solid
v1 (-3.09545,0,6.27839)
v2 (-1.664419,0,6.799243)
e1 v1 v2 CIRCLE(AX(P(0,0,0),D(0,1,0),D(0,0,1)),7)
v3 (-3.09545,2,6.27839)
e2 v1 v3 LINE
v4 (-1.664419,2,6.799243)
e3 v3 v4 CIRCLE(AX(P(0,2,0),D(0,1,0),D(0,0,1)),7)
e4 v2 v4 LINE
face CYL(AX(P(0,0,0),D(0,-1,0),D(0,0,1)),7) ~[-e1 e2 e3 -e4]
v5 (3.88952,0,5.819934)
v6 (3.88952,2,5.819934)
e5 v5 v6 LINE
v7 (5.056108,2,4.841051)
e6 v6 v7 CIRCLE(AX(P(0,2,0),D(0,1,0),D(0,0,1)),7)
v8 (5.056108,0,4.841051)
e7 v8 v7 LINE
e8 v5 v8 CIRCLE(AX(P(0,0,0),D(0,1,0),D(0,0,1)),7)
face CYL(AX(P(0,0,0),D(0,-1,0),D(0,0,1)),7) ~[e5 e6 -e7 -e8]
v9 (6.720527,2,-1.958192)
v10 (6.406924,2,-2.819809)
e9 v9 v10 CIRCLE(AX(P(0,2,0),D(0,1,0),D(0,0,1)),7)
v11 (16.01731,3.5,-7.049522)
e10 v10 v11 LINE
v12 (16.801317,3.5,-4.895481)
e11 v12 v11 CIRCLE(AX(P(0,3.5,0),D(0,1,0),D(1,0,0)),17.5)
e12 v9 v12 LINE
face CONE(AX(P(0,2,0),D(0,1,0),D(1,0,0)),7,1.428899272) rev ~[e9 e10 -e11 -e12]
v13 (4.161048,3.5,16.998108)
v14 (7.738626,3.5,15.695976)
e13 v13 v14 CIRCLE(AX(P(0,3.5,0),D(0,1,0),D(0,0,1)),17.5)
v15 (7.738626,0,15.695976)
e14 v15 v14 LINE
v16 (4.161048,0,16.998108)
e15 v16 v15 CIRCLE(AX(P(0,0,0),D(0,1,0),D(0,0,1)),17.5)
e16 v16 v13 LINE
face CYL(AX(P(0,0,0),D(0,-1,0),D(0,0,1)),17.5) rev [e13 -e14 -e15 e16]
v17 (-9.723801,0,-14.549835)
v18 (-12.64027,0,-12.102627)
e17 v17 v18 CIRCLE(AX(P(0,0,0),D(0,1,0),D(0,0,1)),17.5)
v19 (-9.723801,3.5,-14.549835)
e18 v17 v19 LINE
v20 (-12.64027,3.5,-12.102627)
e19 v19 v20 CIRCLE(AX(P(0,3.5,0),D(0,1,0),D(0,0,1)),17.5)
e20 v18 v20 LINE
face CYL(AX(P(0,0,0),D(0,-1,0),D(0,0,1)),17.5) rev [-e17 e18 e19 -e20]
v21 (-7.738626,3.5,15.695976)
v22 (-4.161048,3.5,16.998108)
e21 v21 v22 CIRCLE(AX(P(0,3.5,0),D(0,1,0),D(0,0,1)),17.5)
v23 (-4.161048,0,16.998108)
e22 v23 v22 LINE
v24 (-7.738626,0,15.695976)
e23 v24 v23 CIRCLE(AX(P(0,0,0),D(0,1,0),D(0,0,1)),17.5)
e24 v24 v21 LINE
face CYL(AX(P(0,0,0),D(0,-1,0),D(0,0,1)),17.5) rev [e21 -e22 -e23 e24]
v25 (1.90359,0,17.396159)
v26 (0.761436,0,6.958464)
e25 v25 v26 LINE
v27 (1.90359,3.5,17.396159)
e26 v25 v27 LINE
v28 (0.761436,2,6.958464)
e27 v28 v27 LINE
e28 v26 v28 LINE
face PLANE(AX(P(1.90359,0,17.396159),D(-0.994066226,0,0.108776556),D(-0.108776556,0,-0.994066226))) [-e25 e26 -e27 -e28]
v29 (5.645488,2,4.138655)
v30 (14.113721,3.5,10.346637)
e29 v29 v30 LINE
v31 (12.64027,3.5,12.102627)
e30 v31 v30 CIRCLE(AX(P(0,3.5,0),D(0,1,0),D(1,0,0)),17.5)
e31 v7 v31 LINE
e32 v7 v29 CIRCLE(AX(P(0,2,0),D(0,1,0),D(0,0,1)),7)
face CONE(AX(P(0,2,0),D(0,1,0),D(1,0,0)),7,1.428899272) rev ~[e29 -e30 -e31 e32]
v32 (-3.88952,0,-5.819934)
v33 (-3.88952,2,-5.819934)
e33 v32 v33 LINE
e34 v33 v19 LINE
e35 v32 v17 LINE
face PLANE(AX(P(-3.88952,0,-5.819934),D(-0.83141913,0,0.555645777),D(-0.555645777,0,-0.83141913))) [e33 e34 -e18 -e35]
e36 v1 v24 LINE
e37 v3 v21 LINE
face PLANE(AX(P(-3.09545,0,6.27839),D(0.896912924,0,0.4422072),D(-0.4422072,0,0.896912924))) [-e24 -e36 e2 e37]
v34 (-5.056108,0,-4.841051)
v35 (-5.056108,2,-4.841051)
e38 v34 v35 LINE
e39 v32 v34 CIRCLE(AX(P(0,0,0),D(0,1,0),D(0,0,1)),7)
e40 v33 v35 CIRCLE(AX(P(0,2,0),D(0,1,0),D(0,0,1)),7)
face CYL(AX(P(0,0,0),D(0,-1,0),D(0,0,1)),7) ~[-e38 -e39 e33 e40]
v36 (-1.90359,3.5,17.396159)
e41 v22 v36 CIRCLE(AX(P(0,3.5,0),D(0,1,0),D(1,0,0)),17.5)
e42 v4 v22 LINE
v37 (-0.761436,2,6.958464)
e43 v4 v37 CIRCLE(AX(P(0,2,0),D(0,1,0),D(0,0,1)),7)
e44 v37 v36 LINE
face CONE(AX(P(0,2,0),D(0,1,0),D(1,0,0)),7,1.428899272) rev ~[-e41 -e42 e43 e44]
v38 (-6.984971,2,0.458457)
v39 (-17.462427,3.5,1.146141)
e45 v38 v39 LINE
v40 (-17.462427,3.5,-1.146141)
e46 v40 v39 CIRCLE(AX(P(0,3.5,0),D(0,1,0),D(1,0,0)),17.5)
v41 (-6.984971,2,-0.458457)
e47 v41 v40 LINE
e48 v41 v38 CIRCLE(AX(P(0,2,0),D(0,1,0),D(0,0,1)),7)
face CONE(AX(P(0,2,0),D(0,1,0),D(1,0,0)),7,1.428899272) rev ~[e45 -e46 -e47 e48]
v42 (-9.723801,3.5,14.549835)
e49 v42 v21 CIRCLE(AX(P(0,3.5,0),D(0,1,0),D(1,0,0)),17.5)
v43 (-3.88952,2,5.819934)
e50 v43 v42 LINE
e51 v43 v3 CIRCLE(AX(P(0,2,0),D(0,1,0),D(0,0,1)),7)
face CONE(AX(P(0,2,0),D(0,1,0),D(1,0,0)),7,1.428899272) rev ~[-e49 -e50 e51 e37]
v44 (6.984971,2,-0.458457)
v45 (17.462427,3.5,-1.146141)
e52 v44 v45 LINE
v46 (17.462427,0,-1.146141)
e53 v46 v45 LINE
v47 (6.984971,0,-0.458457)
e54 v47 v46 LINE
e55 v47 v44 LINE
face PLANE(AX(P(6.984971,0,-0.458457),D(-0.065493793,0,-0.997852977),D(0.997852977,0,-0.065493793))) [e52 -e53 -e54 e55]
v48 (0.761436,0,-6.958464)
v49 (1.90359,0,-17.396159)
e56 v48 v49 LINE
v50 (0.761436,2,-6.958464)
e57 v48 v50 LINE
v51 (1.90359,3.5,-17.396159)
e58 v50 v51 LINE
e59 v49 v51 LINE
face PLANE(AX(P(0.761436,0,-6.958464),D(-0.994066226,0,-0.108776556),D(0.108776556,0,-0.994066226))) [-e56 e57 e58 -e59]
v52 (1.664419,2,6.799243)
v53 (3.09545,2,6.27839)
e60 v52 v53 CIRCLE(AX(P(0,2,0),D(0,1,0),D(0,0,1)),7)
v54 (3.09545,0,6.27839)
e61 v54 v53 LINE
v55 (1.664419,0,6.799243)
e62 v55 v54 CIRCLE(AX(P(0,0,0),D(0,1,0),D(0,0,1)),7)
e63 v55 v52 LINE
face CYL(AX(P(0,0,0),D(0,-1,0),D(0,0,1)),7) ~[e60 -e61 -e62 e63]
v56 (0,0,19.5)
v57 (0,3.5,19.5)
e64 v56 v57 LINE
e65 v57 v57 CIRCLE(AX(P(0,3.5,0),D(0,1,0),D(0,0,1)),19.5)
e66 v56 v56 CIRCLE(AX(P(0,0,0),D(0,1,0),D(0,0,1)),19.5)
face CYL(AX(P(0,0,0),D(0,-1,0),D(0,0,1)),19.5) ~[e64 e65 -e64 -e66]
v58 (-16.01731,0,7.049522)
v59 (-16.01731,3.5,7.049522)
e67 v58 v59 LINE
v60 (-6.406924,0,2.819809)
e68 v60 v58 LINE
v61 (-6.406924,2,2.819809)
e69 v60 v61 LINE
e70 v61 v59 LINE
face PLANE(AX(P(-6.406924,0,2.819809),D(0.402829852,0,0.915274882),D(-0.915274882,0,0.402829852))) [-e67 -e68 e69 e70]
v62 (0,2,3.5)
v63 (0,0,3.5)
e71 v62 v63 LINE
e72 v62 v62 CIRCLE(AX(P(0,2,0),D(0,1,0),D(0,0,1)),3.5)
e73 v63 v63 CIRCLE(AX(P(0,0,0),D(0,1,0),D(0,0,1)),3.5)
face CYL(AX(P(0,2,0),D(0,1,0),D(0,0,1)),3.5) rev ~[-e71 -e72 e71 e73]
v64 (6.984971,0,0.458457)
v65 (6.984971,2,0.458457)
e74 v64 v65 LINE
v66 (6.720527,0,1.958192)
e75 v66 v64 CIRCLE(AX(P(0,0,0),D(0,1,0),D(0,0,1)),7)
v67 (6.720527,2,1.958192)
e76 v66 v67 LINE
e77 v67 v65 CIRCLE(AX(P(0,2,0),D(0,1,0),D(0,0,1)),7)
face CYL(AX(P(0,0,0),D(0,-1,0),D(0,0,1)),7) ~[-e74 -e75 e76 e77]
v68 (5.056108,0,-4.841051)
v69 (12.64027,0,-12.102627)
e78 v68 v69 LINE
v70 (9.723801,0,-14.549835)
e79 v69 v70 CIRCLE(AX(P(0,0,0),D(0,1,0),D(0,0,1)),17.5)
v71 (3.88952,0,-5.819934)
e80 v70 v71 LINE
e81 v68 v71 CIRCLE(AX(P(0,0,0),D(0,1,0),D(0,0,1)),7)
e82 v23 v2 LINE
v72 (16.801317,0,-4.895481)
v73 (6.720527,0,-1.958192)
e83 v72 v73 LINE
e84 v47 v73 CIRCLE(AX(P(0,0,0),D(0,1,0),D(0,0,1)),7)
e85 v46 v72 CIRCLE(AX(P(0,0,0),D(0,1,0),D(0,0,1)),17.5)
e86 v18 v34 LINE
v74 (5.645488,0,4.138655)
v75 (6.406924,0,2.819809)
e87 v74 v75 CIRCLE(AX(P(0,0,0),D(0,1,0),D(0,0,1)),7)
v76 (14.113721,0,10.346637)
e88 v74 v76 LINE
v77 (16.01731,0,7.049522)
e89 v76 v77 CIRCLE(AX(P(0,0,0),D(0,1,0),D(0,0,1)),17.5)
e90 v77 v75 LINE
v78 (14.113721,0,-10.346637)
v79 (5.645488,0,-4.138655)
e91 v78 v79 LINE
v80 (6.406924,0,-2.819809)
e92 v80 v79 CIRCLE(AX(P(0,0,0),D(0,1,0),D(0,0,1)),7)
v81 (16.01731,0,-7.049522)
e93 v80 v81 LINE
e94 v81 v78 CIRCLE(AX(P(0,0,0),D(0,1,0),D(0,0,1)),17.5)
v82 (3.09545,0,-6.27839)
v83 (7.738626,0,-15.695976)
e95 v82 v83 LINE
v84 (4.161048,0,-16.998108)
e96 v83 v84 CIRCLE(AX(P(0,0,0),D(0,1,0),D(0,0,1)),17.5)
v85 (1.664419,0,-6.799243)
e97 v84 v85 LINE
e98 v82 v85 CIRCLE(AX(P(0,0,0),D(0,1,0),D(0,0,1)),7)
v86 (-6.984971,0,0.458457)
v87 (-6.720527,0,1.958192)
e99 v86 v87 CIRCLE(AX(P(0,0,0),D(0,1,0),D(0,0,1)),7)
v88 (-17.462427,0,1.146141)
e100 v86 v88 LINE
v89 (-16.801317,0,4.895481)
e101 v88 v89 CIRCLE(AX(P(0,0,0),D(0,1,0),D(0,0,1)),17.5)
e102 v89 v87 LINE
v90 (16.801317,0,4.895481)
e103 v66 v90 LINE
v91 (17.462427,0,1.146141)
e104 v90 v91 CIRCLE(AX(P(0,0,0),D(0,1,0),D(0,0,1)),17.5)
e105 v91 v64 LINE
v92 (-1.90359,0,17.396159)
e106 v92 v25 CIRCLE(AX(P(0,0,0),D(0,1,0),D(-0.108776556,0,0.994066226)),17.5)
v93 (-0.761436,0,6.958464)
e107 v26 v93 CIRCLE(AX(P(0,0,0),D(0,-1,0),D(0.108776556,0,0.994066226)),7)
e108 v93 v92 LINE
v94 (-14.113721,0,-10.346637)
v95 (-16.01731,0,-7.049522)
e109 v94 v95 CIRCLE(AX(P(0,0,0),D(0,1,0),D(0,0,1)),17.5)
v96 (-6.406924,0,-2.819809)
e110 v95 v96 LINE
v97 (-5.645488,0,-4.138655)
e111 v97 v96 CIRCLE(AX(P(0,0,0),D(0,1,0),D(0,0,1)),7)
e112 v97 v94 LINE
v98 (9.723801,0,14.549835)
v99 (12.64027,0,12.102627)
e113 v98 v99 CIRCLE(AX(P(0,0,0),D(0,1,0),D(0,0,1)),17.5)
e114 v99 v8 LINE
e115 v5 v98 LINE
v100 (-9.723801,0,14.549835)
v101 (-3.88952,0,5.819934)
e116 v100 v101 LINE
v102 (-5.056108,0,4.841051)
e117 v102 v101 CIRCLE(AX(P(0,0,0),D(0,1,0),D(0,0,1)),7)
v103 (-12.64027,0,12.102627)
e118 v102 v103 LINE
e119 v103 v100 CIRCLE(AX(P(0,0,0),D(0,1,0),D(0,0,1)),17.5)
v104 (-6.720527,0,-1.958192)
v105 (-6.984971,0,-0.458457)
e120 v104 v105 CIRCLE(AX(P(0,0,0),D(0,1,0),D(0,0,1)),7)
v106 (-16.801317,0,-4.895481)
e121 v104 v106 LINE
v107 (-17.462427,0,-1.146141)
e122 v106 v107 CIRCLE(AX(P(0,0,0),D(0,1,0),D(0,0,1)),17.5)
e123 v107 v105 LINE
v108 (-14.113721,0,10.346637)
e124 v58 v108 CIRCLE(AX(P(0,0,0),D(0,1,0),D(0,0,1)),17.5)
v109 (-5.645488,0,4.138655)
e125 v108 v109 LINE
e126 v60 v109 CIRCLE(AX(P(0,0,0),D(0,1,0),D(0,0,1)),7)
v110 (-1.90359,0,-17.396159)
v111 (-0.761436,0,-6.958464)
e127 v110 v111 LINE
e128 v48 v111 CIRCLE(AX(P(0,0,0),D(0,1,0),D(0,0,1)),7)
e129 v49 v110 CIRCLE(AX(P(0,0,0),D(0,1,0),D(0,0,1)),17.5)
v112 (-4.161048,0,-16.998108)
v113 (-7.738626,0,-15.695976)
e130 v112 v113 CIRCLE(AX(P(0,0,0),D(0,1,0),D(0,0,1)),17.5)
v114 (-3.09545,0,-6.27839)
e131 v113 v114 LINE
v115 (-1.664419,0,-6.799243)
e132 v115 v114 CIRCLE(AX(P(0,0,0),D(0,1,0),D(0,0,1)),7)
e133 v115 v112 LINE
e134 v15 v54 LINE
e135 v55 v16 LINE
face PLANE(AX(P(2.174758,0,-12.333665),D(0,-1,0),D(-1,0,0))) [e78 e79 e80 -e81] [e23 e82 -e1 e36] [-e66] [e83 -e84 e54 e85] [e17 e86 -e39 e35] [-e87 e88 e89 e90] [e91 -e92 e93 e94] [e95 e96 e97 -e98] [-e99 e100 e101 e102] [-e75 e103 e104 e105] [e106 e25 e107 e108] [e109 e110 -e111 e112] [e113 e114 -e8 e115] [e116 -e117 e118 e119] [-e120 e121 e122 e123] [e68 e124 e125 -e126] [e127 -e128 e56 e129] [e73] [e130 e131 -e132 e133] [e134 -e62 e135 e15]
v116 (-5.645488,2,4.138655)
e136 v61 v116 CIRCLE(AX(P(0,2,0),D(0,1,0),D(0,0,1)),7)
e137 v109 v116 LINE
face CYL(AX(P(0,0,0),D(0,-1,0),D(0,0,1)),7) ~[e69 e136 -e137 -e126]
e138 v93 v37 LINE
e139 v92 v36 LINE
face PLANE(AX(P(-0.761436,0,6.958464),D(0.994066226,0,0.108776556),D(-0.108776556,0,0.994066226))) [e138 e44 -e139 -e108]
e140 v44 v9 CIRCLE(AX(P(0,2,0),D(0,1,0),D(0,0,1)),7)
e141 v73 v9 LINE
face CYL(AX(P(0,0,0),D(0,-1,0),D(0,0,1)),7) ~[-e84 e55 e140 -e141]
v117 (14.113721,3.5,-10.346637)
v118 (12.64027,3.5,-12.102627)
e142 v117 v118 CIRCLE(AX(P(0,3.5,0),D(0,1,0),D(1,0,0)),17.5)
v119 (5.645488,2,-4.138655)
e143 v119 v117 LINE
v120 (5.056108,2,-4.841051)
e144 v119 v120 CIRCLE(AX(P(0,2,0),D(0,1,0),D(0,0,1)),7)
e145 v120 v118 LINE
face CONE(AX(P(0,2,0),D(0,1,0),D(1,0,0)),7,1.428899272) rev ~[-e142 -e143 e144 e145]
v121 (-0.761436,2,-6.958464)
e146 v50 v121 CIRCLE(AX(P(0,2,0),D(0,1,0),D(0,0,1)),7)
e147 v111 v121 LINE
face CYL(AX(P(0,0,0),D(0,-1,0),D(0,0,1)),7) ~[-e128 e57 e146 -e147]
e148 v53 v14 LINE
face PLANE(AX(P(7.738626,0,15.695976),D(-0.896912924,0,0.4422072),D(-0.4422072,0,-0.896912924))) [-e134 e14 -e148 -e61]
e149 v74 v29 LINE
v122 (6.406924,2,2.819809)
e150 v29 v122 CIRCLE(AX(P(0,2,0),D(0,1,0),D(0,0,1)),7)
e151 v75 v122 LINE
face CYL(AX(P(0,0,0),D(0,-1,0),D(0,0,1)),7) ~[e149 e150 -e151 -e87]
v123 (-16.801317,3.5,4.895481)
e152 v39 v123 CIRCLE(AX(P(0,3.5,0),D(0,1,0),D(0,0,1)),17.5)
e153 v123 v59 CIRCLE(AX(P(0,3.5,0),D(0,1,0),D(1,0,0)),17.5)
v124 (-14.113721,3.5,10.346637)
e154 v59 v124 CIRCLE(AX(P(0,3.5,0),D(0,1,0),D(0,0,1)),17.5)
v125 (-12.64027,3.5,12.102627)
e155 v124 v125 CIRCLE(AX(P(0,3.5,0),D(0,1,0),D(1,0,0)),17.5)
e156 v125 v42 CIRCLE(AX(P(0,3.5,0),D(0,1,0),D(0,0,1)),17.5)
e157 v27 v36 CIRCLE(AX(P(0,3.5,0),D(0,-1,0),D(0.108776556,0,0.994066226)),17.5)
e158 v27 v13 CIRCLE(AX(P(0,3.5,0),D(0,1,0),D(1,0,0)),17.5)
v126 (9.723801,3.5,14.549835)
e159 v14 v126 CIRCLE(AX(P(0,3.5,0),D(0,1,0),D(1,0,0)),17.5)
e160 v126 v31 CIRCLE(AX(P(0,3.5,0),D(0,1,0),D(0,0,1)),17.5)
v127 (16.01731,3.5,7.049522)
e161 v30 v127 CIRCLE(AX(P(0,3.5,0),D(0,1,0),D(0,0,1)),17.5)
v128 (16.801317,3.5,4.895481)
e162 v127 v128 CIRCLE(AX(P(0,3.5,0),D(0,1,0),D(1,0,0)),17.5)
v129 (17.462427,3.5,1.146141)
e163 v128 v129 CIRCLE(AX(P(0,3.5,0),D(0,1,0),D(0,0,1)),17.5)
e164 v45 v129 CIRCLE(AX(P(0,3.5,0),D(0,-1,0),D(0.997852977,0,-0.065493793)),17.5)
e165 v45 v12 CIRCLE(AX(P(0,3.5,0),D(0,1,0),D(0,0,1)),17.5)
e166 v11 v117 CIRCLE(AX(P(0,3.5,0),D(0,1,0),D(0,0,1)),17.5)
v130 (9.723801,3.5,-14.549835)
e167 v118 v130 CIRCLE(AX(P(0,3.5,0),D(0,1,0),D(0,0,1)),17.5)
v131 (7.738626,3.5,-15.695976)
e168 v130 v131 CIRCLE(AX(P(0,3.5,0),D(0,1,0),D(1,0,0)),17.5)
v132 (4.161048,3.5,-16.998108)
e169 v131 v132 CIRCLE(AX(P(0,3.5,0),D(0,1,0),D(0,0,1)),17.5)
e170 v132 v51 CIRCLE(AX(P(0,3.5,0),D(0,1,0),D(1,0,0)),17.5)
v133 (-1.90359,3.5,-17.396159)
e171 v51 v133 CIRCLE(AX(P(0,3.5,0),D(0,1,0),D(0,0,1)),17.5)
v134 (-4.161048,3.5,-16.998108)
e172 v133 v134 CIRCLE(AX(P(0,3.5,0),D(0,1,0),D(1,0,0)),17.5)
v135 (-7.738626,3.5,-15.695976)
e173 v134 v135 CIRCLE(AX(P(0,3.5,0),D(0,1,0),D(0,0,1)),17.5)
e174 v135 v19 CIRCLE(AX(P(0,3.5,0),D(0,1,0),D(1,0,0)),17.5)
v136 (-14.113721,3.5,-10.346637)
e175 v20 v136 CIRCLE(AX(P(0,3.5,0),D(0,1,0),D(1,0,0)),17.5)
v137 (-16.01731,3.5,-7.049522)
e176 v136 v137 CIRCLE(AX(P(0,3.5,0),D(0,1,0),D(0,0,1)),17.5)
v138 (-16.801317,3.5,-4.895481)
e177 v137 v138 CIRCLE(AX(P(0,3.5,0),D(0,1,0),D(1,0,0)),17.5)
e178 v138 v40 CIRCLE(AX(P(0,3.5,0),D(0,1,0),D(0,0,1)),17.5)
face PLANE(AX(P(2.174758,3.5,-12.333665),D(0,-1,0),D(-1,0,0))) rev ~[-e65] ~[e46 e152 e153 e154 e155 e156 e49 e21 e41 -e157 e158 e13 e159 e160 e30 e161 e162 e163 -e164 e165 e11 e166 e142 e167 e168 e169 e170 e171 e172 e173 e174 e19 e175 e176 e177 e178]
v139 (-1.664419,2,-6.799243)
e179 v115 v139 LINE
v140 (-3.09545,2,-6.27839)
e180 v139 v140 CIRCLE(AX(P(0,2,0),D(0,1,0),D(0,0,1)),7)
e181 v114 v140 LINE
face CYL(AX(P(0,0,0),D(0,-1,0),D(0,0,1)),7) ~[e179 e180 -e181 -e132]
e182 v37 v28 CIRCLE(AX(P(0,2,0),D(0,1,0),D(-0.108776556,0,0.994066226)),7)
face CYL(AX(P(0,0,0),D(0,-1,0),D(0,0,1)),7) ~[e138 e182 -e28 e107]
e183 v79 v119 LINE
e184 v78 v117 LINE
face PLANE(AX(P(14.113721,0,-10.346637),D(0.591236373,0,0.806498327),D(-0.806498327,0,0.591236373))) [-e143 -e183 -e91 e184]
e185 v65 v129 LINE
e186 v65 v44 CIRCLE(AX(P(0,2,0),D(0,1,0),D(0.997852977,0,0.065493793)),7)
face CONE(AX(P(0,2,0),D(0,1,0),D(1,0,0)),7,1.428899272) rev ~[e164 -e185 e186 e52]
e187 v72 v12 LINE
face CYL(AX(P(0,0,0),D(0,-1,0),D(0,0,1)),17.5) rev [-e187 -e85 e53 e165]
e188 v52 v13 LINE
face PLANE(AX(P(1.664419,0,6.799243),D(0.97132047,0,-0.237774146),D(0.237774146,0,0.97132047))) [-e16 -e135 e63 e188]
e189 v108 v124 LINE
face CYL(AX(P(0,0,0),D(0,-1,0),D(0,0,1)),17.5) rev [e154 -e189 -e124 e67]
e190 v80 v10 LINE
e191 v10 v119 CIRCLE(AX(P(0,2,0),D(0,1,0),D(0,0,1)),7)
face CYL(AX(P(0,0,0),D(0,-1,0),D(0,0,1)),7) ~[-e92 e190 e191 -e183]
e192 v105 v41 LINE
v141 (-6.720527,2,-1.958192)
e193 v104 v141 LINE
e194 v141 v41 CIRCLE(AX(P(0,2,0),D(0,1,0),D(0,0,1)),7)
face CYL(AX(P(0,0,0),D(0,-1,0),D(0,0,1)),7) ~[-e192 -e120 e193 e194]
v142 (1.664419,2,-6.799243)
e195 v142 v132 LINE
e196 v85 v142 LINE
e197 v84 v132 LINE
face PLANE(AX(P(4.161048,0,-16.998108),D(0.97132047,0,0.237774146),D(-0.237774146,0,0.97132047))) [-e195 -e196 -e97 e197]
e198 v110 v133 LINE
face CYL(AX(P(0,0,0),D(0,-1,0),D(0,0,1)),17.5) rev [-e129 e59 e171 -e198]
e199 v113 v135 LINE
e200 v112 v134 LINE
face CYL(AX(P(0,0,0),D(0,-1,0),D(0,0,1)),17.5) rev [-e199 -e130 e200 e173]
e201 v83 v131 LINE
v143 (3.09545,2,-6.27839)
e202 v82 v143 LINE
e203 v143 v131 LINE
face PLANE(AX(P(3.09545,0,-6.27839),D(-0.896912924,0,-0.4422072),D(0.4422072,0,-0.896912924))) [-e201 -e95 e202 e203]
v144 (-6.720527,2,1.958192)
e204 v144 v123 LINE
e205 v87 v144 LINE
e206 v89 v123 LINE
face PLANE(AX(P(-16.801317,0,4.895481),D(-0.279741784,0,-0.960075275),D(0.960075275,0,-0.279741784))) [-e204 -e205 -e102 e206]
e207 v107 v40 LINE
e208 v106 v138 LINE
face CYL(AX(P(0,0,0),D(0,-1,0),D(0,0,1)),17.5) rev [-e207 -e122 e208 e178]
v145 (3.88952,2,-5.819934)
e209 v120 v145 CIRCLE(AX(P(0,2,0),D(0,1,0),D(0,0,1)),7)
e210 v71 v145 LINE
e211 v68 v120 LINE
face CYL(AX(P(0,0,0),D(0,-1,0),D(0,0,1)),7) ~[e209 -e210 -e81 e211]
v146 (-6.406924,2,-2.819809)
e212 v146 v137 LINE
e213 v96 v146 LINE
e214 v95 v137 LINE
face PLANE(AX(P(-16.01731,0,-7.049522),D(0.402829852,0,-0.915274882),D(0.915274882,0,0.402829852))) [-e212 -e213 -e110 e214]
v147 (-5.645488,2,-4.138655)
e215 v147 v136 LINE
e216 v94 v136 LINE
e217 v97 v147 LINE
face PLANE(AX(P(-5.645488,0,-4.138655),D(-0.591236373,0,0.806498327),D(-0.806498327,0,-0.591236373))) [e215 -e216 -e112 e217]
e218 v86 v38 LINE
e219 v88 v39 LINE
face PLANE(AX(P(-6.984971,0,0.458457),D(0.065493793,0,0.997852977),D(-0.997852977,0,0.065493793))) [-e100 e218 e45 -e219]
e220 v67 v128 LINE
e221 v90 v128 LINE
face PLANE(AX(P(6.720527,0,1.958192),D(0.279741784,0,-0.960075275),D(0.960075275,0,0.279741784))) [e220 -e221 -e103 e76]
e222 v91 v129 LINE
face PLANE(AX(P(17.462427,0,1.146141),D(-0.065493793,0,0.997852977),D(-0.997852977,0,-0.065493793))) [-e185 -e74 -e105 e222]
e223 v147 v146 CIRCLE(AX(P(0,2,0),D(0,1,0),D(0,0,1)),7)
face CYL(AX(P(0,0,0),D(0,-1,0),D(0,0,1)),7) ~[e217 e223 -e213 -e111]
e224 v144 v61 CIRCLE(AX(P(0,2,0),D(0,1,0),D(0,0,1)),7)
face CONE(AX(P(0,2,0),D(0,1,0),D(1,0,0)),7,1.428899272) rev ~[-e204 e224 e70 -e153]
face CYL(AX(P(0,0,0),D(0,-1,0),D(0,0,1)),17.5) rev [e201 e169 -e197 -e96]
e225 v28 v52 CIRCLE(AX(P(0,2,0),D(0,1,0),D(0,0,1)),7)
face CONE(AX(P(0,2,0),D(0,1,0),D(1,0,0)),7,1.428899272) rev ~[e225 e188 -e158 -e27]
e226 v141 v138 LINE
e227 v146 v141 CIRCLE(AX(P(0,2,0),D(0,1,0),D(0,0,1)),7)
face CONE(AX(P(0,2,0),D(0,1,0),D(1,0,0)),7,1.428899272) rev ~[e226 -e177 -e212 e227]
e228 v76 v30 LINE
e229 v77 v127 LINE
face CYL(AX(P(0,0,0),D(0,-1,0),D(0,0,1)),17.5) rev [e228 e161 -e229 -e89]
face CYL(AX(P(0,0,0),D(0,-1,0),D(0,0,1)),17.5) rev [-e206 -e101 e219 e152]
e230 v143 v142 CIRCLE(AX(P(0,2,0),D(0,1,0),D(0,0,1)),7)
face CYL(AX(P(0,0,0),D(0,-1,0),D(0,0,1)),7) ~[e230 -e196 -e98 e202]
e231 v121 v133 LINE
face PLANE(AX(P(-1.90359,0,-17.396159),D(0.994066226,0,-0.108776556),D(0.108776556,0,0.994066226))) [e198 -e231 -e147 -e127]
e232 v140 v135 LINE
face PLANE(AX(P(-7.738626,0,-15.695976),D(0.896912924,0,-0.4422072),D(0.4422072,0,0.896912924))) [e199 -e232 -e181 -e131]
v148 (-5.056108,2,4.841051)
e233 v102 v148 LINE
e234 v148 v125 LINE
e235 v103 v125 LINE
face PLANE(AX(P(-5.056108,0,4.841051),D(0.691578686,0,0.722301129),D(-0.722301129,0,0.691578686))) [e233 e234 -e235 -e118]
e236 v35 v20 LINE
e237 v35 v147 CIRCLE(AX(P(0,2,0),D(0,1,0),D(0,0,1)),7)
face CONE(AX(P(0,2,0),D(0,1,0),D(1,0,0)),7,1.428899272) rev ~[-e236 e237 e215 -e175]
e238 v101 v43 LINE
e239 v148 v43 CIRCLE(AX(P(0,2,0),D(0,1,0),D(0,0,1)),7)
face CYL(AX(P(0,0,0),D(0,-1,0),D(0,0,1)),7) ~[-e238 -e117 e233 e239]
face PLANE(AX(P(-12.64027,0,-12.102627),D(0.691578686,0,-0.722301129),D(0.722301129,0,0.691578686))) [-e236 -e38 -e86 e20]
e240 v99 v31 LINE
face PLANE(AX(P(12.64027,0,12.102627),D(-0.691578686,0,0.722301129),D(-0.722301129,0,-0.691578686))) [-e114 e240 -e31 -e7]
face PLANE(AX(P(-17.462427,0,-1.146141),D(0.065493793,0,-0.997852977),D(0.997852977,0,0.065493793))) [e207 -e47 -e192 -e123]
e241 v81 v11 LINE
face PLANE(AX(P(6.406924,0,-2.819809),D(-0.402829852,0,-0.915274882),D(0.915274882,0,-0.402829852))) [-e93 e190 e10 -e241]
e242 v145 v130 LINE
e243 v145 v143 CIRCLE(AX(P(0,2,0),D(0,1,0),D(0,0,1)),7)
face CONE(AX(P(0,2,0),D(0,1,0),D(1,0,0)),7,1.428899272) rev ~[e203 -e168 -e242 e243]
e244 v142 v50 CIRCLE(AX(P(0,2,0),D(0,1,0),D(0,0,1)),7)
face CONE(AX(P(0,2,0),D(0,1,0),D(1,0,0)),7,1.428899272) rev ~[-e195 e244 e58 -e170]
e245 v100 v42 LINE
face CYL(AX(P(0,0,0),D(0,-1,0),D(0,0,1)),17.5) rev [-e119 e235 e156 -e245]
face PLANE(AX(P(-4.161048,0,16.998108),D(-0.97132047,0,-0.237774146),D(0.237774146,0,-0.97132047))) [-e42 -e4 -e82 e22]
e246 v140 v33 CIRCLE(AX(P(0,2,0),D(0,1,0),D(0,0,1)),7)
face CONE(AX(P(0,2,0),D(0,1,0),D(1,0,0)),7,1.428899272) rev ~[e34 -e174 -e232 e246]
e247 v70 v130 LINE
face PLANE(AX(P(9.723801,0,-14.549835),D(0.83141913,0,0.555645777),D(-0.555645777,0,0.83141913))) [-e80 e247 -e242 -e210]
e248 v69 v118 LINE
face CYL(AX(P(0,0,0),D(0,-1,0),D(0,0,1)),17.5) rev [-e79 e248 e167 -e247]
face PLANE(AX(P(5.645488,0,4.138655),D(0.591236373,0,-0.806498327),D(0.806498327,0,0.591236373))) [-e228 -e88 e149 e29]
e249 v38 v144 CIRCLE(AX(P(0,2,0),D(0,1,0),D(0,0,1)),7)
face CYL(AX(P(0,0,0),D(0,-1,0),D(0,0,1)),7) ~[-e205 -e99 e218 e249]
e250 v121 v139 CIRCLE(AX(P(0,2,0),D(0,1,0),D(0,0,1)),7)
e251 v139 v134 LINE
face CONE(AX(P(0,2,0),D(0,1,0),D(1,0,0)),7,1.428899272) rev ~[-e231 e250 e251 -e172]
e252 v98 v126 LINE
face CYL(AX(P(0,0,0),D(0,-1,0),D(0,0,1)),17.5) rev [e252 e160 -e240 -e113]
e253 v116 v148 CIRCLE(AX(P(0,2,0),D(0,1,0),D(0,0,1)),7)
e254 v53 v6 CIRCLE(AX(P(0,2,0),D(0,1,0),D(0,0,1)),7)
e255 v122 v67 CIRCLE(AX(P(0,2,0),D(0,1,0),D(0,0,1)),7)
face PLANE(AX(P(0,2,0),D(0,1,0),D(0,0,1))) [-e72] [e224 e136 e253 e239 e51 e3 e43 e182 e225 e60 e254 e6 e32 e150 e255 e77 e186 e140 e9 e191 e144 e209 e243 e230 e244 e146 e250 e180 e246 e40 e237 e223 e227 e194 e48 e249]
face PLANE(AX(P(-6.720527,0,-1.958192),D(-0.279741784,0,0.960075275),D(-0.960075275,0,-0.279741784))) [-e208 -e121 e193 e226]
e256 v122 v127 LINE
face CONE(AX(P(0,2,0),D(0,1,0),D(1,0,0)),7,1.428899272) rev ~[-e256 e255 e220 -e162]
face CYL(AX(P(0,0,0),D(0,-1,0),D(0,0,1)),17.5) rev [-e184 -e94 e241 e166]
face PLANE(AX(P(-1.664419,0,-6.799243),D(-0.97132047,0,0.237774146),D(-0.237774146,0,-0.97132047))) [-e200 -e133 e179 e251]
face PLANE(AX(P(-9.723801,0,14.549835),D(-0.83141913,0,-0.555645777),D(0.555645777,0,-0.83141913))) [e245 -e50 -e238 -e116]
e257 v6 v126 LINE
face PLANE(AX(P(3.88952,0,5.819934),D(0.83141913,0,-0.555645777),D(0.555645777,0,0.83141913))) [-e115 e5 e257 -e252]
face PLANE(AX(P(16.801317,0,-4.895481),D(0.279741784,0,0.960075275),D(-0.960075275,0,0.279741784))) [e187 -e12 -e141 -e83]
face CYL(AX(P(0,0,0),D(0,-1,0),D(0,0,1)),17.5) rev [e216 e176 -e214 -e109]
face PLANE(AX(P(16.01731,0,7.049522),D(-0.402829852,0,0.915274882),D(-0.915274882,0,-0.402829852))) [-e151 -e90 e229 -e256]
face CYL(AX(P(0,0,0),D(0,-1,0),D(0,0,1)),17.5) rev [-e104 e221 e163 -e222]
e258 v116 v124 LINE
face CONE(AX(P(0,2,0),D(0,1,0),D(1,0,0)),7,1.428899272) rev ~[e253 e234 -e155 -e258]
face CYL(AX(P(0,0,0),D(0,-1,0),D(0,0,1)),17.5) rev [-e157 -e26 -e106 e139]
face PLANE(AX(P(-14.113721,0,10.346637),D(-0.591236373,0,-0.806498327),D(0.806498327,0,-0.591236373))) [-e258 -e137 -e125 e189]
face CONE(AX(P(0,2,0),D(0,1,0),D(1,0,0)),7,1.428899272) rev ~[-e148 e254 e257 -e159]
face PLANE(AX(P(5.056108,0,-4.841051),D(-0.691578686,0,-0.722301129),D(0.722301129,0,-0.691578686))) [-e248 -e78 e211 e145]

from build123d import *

# Parameters (mm, degrees)
SKETCH1_R           = 19.5
SKETCH1_R_2         = 17.5
BOSS_EXTRUDE1_DEPTH = 3.5
SKETCH2_R           = 7
BOSS_EXTRUDE2_DEPTH = 2
BOSS_EXTRUDE3_DEPTH = 3.5
SKETCH8_R           = 3.5
CUT_EXTRUDE1_DEPTH  = 28.649593125


with BuildPart() as part:
    # Sketch1 → Boss-Extrude1 (new body)
    with BuildSketch(Plane(origin=(0, 0, 0), x_dir=(1, 0, 0), z_dir=(0, 1, 0))):
        with Locations(Location((0, 0, 0), (0, 0, 270))):
            Circle(SKETCH1_R)
        with Locations(Location((0, 0, 0), (0, 0, 270))):
            Circle(SKETCH1_R_2, mode=Mode.SUBTRACT)
    extrude(amount=BOSS_EXTRUDE1_DEPTH)



with BuildPart() as body_2:
    # Sketch2 → Boss-Extrude2 (new body)
    with BuildSketch(Plane(origin=(0, 0, 0), x_dir=(1, 0, 0), z_dir=(0, 1, 0))):
        with Locations(Location((0, 0, 0), (0, 0, 270))):
            Circle(SKETCH2_R)
    extrude(amount=BOSS_EXTRUDE2_DEPTH)


with BuildPart() as part_1:
    add(part.part)

    add(body_2.part)  # Boss-Extrude3 merges body 2
    # Sketch4 → Boss-Extrude3 (add)
    with BuildSketch(Plane(origin=(0, 0, 0), x_dir=(1, 0, 0), z_dir=(0, 1, 0))):
        with BuildLine():
            Line((0.76143589, 6.958463579), (1.903589725, 17.396158948))
            ThreePointArc((1.903589725, 17.396158948), (3.038843109, 17.234135678), (4.161047559, 16.998108224))
            Line((4.161047559, 16.998108224), (1.664419024, 6.79924329))
            ThreePointArc((1.664419024, 6.79924329), (1.215537244, 6.893654271), (0.76143589, 6.958463579))
        make_face()
        with BuildLine():
            Line((3.095450398, 6.278390465), (7.738625995, 15.695976163))
            ThreePointArc((7.738625995, 15.695976163), (8.75, 15.155444566), (9.723801097, 14.549834783))
            Line((9.723801097, 14.549834783), (3.889520439, 5.819933913))
            ThreePointArc((3.889520439, 5.819933913), (3.5, 6.062177826), (3.095450398, 6.278390465))
        make_face()
        with BuildLine():
            Line((5.056107904, 4.841050802), (12.640269759, 12.102627005))
            ThreePointArc((12.640269759, 12.102627005), (13.405777755, 11.24878317), (14.113720715, 10.346636535))
            Line((14.113720715, 10.346636535), (5.645488286, 4.138654614))
            ThreePointArc((5.645488286, 4.138654614), (5.362311102, 4.499513268), (5.056107904, 4.841050802))
        make_face()
        with BuildLine():
            Line((6.406924176, 2.819808966), (16.01731044, 7.049522414))
            ThreePointArc((16.01731044, 7.049522414), (16.444620864, 5.985352508), (16.801317318, 4.89548122))
            Line((16.801317318, 4.89548122), (6.720526927, 1.958192488))
            ThreePointArc((6.720526927, 1.958192488), (6.577848346, 2.394141003), (6.406924176, 2.819808966))
        make_face()
        with BuildLine():
            Line((6.984970837, 0.458456552), (17.462427092, 1.14614138))
            ThreePointArc((17.462427092, 1.14614138), (17.5, 0), (17.462427092, -1.14614138))
            Line((17.462427092, -1.14614138), (6.984970837, -0.458456552))
            ThreePointArc((6.984970837, -0.458456552), (7, 0), (6.984970837, 0.458456552))
        make_face()
        with BuildLine():
            Line((6.720526927, -1.958192488), (16.801317318, -4.89548122))
            ThreePointArc((16.801317318, -4.89548122), (16.444620864, -5.985352508), (16.01731044, -7.049522414))
            Line((16.01731044, -7.049522414), (6.406924176, -2.819808966))
            ThreePointArc((6.406924176, -2.819808966), (6.577848346, -2.394141003), (6.720526927, -1.958192488))
        make_face()
        with BuildLine():
            Line((5.645488286, -4.138654614), (14.113720715, -10.346636535))
            ThreePointArc((14.113720715, -10.346636535), (13.405777755, -11.24878317), (12.640269759, -12.102627005))
            Line((12.640269759, -12.102627005), (5.056107904, -4.841050802))
            ThreePointArc((5.056107904, -4.841050802), (5.362311102, -4.499513268), (5.645488286, -4.138654614))
        make_face()
        with BuildLine():
            Line((3.889520439, -5.819933913), (9.723801097, -14.549834783))
            ThreePointArc((9.723801097, -14.549834783), (8.75, -15.155444566), (7.738625995, -15.695976163))
            Line((7.738625995, -15.695976163), (3.095450398, -6.278390465))
            ThreePointArc((3.095450398, -6.278390465), (3.5, -6.062177826), (3.889520439, -5.819933913))
        make_face()
        with BuildLine():
            Line((1.664419024, -6.79924329), (4.161047559, -16.998108224))
            ThreePointArc((4.161047559, -16.998108224), (3.038843109, -17.234135678), (1.903589725, -17.396158948))
            Line((1.903589725, -17.396158948), (0.76143589, -6.958463579))
            ThreePointArc((0.76143589, -6.958463579), (1.215537244, -6.893654271), (1.664419024, -6.79924329))
        make_face()
        with BuildLine():
            Line((-0.76143589, -6.958463579), (-1.903589725, -17.396158948))
            ThreePointArc((-1.903589725, -17.396158948), (-3.038843109, -17.234135678), (-4.161047559, -16.998108224))
            Line((-4.161047559, -16.998108224), (-1.664419024, -6.79924329))
            ThreePointArc((-1.664419024, -6.79924329), (-1.215537244, -6.893654271), (-0.76143589, -6.958463579))
        make_face()
        with BuildLine():
            Line((-3.095450398, -6.278390465), (-7.738625995, -15.695976163))
            ThreePointArc((-7.738625995, -15.695976163), (-8.75, -15.155444566), (-9.723801097, -14.549834783))
            Line((-9.723801097, -14.549834783), (-3.889520439, -5.819933913))
            ThreePointArc((-3.889520439, -5.819933913), (-3.5, -6.062177826), (-3.095450398, -6.278390465))
        make_face()
        with BuildLine():
            Line((-5.056107904, -4.841050802), (-12.640269759, -12.102627005))
            ThreePointArc((-12.640269759, -12.102627005), (-13.405777755, -11.24878317), (-14.113720715, -10.346636535))
            Line((-14.113720715, -10.346636535), (-5.645488286, -4.138654614))
            ThreePointArc((-5.645488286, -4.138654614), (-5.362311102, -4.499513268), (-5.056107904, -4.841050802))
        make_face()
        with BuildLine():
            Line((-6.406924176, -2.819808966), (-16.01731044, -7.049522414))
            ThreePointArc((-16.01731044, -7.049522414), (-16.444620864, -5.985352508), (-16.801317318, -4.89548122))
            Line((-16.801317318, -4.89548122), (-6.720526927, -1.958192488))
            ThreePointArc((-6.720526927, -1.958192488), (-6.577848346, -2.394141003), (-6.406924176, -2.819808966))
        make_face()
        with BuildLine():
            Line((-6.984970837, -0.458456552), (-17.462427092, -1.14614138))
            ThreePointArc((-17.462427092, -1.14614138), (-17.5, 0), (-17.462427092, 1.14614138))
            Line((-17.462427092, 1.14614138), (-6.984970837, 0.458456552))
            ThreePointArc((-6.984970837, 0.458456552), (-7, 0), (-6.984970837, -0.458456552))
        make_face()
        with BuildLine():
            Line((-6.720526927, 1.958192488), (-16.801317318, 4.89548122))
            ThreePointArc((-16.801317318, 4.89548122), (-16.444620864, 5.985352508), (-16.01731044, 7.049522414))
            Line((-16.01731044, 7.049522414), (-6.406924176, 2.819808966))
            ThreePointArc((-6.406924176, 2.819808966), (-6.577848346, 2.394141003), (-6.720526927, 1.958192488))
        make_face()
        with BuildLine():
            Line((-5.645488286, 4.138654614), (-14.113720715, 10.346636535))
            ThreePointArc((-14.113720715, 10.346636535), (-13.405777755, 11.24878317), (-12.640269759, 12.102627005))
            Line((-12.640269759, 12.102627005), (-5.056107904, 4.841050802))
            ThreePointArc((-5.056107904, 4.841050802), (-5.362311102, 4.499513268), (-5.645488286, 4.138654614))
        make_face()
        with BuildLine():
            Line((-3.889520439, 5.819933913), (-9.723801097, 14.549834783))
            ThreePointArc((-9.723801097, 14.549834783), (-8.75, 15.155444566), (-7.738625995, 15.695976163))
            Line((-7.738625995, 15.695976163), (-3.095450398, 6.278390465))
            ThreePointArc((-3.095450398, 6.278390465), (-3.5, 6.062177826), (-3.889520439, 5.819933913))
        make_face()
        with BuildLine():
            Line((-1.664419024, 6.79924329), (-4.161047559, 16.998108224))
            ThreePointArc((-4.161047559, 16.998108224), (-3.038843109, 17.234135678), (-1.903589725, 17.396158948))
            Line((-1.903589725, 17.396158948), (-0.76143589, 6.958463579))
            ThreePointArc((-0.76143589, 6.958463579), (-1.215537244, 6.893654271), (-1.664419024, 6.79924329))
        make_face()
    extrude(amount=BOSS_EXTRUDE3_DEPTH)

    # Sketch7 → Cut-Revolve1 (revolve, cut)
    with BuildSketch(Plane.XY):
        Polygon((7, 2), (17.5, 3.5), (7, 3.5), align=None)
    revolve(axis=Axis((0, -983.4456259, 0), (0, 1, 0)), mode=Mode.SUBTRACT)

    # Sketch8 → Cut-Extrude1 (cut, through all)
    with BuildSketch(Plane(origin=(0, 2, 0), x_dir=(1, 0, 0), z_dir=(0, 1, 0))):
        with Locations(Location((0, 0, 0), (0, 0, 270))):
            Circle(SKETCH8_R)
    extrude(amount=-CUT_EXTRUDE1_DEPTH, mode=Mode.SUBTRACT)


solid = part_1.part
